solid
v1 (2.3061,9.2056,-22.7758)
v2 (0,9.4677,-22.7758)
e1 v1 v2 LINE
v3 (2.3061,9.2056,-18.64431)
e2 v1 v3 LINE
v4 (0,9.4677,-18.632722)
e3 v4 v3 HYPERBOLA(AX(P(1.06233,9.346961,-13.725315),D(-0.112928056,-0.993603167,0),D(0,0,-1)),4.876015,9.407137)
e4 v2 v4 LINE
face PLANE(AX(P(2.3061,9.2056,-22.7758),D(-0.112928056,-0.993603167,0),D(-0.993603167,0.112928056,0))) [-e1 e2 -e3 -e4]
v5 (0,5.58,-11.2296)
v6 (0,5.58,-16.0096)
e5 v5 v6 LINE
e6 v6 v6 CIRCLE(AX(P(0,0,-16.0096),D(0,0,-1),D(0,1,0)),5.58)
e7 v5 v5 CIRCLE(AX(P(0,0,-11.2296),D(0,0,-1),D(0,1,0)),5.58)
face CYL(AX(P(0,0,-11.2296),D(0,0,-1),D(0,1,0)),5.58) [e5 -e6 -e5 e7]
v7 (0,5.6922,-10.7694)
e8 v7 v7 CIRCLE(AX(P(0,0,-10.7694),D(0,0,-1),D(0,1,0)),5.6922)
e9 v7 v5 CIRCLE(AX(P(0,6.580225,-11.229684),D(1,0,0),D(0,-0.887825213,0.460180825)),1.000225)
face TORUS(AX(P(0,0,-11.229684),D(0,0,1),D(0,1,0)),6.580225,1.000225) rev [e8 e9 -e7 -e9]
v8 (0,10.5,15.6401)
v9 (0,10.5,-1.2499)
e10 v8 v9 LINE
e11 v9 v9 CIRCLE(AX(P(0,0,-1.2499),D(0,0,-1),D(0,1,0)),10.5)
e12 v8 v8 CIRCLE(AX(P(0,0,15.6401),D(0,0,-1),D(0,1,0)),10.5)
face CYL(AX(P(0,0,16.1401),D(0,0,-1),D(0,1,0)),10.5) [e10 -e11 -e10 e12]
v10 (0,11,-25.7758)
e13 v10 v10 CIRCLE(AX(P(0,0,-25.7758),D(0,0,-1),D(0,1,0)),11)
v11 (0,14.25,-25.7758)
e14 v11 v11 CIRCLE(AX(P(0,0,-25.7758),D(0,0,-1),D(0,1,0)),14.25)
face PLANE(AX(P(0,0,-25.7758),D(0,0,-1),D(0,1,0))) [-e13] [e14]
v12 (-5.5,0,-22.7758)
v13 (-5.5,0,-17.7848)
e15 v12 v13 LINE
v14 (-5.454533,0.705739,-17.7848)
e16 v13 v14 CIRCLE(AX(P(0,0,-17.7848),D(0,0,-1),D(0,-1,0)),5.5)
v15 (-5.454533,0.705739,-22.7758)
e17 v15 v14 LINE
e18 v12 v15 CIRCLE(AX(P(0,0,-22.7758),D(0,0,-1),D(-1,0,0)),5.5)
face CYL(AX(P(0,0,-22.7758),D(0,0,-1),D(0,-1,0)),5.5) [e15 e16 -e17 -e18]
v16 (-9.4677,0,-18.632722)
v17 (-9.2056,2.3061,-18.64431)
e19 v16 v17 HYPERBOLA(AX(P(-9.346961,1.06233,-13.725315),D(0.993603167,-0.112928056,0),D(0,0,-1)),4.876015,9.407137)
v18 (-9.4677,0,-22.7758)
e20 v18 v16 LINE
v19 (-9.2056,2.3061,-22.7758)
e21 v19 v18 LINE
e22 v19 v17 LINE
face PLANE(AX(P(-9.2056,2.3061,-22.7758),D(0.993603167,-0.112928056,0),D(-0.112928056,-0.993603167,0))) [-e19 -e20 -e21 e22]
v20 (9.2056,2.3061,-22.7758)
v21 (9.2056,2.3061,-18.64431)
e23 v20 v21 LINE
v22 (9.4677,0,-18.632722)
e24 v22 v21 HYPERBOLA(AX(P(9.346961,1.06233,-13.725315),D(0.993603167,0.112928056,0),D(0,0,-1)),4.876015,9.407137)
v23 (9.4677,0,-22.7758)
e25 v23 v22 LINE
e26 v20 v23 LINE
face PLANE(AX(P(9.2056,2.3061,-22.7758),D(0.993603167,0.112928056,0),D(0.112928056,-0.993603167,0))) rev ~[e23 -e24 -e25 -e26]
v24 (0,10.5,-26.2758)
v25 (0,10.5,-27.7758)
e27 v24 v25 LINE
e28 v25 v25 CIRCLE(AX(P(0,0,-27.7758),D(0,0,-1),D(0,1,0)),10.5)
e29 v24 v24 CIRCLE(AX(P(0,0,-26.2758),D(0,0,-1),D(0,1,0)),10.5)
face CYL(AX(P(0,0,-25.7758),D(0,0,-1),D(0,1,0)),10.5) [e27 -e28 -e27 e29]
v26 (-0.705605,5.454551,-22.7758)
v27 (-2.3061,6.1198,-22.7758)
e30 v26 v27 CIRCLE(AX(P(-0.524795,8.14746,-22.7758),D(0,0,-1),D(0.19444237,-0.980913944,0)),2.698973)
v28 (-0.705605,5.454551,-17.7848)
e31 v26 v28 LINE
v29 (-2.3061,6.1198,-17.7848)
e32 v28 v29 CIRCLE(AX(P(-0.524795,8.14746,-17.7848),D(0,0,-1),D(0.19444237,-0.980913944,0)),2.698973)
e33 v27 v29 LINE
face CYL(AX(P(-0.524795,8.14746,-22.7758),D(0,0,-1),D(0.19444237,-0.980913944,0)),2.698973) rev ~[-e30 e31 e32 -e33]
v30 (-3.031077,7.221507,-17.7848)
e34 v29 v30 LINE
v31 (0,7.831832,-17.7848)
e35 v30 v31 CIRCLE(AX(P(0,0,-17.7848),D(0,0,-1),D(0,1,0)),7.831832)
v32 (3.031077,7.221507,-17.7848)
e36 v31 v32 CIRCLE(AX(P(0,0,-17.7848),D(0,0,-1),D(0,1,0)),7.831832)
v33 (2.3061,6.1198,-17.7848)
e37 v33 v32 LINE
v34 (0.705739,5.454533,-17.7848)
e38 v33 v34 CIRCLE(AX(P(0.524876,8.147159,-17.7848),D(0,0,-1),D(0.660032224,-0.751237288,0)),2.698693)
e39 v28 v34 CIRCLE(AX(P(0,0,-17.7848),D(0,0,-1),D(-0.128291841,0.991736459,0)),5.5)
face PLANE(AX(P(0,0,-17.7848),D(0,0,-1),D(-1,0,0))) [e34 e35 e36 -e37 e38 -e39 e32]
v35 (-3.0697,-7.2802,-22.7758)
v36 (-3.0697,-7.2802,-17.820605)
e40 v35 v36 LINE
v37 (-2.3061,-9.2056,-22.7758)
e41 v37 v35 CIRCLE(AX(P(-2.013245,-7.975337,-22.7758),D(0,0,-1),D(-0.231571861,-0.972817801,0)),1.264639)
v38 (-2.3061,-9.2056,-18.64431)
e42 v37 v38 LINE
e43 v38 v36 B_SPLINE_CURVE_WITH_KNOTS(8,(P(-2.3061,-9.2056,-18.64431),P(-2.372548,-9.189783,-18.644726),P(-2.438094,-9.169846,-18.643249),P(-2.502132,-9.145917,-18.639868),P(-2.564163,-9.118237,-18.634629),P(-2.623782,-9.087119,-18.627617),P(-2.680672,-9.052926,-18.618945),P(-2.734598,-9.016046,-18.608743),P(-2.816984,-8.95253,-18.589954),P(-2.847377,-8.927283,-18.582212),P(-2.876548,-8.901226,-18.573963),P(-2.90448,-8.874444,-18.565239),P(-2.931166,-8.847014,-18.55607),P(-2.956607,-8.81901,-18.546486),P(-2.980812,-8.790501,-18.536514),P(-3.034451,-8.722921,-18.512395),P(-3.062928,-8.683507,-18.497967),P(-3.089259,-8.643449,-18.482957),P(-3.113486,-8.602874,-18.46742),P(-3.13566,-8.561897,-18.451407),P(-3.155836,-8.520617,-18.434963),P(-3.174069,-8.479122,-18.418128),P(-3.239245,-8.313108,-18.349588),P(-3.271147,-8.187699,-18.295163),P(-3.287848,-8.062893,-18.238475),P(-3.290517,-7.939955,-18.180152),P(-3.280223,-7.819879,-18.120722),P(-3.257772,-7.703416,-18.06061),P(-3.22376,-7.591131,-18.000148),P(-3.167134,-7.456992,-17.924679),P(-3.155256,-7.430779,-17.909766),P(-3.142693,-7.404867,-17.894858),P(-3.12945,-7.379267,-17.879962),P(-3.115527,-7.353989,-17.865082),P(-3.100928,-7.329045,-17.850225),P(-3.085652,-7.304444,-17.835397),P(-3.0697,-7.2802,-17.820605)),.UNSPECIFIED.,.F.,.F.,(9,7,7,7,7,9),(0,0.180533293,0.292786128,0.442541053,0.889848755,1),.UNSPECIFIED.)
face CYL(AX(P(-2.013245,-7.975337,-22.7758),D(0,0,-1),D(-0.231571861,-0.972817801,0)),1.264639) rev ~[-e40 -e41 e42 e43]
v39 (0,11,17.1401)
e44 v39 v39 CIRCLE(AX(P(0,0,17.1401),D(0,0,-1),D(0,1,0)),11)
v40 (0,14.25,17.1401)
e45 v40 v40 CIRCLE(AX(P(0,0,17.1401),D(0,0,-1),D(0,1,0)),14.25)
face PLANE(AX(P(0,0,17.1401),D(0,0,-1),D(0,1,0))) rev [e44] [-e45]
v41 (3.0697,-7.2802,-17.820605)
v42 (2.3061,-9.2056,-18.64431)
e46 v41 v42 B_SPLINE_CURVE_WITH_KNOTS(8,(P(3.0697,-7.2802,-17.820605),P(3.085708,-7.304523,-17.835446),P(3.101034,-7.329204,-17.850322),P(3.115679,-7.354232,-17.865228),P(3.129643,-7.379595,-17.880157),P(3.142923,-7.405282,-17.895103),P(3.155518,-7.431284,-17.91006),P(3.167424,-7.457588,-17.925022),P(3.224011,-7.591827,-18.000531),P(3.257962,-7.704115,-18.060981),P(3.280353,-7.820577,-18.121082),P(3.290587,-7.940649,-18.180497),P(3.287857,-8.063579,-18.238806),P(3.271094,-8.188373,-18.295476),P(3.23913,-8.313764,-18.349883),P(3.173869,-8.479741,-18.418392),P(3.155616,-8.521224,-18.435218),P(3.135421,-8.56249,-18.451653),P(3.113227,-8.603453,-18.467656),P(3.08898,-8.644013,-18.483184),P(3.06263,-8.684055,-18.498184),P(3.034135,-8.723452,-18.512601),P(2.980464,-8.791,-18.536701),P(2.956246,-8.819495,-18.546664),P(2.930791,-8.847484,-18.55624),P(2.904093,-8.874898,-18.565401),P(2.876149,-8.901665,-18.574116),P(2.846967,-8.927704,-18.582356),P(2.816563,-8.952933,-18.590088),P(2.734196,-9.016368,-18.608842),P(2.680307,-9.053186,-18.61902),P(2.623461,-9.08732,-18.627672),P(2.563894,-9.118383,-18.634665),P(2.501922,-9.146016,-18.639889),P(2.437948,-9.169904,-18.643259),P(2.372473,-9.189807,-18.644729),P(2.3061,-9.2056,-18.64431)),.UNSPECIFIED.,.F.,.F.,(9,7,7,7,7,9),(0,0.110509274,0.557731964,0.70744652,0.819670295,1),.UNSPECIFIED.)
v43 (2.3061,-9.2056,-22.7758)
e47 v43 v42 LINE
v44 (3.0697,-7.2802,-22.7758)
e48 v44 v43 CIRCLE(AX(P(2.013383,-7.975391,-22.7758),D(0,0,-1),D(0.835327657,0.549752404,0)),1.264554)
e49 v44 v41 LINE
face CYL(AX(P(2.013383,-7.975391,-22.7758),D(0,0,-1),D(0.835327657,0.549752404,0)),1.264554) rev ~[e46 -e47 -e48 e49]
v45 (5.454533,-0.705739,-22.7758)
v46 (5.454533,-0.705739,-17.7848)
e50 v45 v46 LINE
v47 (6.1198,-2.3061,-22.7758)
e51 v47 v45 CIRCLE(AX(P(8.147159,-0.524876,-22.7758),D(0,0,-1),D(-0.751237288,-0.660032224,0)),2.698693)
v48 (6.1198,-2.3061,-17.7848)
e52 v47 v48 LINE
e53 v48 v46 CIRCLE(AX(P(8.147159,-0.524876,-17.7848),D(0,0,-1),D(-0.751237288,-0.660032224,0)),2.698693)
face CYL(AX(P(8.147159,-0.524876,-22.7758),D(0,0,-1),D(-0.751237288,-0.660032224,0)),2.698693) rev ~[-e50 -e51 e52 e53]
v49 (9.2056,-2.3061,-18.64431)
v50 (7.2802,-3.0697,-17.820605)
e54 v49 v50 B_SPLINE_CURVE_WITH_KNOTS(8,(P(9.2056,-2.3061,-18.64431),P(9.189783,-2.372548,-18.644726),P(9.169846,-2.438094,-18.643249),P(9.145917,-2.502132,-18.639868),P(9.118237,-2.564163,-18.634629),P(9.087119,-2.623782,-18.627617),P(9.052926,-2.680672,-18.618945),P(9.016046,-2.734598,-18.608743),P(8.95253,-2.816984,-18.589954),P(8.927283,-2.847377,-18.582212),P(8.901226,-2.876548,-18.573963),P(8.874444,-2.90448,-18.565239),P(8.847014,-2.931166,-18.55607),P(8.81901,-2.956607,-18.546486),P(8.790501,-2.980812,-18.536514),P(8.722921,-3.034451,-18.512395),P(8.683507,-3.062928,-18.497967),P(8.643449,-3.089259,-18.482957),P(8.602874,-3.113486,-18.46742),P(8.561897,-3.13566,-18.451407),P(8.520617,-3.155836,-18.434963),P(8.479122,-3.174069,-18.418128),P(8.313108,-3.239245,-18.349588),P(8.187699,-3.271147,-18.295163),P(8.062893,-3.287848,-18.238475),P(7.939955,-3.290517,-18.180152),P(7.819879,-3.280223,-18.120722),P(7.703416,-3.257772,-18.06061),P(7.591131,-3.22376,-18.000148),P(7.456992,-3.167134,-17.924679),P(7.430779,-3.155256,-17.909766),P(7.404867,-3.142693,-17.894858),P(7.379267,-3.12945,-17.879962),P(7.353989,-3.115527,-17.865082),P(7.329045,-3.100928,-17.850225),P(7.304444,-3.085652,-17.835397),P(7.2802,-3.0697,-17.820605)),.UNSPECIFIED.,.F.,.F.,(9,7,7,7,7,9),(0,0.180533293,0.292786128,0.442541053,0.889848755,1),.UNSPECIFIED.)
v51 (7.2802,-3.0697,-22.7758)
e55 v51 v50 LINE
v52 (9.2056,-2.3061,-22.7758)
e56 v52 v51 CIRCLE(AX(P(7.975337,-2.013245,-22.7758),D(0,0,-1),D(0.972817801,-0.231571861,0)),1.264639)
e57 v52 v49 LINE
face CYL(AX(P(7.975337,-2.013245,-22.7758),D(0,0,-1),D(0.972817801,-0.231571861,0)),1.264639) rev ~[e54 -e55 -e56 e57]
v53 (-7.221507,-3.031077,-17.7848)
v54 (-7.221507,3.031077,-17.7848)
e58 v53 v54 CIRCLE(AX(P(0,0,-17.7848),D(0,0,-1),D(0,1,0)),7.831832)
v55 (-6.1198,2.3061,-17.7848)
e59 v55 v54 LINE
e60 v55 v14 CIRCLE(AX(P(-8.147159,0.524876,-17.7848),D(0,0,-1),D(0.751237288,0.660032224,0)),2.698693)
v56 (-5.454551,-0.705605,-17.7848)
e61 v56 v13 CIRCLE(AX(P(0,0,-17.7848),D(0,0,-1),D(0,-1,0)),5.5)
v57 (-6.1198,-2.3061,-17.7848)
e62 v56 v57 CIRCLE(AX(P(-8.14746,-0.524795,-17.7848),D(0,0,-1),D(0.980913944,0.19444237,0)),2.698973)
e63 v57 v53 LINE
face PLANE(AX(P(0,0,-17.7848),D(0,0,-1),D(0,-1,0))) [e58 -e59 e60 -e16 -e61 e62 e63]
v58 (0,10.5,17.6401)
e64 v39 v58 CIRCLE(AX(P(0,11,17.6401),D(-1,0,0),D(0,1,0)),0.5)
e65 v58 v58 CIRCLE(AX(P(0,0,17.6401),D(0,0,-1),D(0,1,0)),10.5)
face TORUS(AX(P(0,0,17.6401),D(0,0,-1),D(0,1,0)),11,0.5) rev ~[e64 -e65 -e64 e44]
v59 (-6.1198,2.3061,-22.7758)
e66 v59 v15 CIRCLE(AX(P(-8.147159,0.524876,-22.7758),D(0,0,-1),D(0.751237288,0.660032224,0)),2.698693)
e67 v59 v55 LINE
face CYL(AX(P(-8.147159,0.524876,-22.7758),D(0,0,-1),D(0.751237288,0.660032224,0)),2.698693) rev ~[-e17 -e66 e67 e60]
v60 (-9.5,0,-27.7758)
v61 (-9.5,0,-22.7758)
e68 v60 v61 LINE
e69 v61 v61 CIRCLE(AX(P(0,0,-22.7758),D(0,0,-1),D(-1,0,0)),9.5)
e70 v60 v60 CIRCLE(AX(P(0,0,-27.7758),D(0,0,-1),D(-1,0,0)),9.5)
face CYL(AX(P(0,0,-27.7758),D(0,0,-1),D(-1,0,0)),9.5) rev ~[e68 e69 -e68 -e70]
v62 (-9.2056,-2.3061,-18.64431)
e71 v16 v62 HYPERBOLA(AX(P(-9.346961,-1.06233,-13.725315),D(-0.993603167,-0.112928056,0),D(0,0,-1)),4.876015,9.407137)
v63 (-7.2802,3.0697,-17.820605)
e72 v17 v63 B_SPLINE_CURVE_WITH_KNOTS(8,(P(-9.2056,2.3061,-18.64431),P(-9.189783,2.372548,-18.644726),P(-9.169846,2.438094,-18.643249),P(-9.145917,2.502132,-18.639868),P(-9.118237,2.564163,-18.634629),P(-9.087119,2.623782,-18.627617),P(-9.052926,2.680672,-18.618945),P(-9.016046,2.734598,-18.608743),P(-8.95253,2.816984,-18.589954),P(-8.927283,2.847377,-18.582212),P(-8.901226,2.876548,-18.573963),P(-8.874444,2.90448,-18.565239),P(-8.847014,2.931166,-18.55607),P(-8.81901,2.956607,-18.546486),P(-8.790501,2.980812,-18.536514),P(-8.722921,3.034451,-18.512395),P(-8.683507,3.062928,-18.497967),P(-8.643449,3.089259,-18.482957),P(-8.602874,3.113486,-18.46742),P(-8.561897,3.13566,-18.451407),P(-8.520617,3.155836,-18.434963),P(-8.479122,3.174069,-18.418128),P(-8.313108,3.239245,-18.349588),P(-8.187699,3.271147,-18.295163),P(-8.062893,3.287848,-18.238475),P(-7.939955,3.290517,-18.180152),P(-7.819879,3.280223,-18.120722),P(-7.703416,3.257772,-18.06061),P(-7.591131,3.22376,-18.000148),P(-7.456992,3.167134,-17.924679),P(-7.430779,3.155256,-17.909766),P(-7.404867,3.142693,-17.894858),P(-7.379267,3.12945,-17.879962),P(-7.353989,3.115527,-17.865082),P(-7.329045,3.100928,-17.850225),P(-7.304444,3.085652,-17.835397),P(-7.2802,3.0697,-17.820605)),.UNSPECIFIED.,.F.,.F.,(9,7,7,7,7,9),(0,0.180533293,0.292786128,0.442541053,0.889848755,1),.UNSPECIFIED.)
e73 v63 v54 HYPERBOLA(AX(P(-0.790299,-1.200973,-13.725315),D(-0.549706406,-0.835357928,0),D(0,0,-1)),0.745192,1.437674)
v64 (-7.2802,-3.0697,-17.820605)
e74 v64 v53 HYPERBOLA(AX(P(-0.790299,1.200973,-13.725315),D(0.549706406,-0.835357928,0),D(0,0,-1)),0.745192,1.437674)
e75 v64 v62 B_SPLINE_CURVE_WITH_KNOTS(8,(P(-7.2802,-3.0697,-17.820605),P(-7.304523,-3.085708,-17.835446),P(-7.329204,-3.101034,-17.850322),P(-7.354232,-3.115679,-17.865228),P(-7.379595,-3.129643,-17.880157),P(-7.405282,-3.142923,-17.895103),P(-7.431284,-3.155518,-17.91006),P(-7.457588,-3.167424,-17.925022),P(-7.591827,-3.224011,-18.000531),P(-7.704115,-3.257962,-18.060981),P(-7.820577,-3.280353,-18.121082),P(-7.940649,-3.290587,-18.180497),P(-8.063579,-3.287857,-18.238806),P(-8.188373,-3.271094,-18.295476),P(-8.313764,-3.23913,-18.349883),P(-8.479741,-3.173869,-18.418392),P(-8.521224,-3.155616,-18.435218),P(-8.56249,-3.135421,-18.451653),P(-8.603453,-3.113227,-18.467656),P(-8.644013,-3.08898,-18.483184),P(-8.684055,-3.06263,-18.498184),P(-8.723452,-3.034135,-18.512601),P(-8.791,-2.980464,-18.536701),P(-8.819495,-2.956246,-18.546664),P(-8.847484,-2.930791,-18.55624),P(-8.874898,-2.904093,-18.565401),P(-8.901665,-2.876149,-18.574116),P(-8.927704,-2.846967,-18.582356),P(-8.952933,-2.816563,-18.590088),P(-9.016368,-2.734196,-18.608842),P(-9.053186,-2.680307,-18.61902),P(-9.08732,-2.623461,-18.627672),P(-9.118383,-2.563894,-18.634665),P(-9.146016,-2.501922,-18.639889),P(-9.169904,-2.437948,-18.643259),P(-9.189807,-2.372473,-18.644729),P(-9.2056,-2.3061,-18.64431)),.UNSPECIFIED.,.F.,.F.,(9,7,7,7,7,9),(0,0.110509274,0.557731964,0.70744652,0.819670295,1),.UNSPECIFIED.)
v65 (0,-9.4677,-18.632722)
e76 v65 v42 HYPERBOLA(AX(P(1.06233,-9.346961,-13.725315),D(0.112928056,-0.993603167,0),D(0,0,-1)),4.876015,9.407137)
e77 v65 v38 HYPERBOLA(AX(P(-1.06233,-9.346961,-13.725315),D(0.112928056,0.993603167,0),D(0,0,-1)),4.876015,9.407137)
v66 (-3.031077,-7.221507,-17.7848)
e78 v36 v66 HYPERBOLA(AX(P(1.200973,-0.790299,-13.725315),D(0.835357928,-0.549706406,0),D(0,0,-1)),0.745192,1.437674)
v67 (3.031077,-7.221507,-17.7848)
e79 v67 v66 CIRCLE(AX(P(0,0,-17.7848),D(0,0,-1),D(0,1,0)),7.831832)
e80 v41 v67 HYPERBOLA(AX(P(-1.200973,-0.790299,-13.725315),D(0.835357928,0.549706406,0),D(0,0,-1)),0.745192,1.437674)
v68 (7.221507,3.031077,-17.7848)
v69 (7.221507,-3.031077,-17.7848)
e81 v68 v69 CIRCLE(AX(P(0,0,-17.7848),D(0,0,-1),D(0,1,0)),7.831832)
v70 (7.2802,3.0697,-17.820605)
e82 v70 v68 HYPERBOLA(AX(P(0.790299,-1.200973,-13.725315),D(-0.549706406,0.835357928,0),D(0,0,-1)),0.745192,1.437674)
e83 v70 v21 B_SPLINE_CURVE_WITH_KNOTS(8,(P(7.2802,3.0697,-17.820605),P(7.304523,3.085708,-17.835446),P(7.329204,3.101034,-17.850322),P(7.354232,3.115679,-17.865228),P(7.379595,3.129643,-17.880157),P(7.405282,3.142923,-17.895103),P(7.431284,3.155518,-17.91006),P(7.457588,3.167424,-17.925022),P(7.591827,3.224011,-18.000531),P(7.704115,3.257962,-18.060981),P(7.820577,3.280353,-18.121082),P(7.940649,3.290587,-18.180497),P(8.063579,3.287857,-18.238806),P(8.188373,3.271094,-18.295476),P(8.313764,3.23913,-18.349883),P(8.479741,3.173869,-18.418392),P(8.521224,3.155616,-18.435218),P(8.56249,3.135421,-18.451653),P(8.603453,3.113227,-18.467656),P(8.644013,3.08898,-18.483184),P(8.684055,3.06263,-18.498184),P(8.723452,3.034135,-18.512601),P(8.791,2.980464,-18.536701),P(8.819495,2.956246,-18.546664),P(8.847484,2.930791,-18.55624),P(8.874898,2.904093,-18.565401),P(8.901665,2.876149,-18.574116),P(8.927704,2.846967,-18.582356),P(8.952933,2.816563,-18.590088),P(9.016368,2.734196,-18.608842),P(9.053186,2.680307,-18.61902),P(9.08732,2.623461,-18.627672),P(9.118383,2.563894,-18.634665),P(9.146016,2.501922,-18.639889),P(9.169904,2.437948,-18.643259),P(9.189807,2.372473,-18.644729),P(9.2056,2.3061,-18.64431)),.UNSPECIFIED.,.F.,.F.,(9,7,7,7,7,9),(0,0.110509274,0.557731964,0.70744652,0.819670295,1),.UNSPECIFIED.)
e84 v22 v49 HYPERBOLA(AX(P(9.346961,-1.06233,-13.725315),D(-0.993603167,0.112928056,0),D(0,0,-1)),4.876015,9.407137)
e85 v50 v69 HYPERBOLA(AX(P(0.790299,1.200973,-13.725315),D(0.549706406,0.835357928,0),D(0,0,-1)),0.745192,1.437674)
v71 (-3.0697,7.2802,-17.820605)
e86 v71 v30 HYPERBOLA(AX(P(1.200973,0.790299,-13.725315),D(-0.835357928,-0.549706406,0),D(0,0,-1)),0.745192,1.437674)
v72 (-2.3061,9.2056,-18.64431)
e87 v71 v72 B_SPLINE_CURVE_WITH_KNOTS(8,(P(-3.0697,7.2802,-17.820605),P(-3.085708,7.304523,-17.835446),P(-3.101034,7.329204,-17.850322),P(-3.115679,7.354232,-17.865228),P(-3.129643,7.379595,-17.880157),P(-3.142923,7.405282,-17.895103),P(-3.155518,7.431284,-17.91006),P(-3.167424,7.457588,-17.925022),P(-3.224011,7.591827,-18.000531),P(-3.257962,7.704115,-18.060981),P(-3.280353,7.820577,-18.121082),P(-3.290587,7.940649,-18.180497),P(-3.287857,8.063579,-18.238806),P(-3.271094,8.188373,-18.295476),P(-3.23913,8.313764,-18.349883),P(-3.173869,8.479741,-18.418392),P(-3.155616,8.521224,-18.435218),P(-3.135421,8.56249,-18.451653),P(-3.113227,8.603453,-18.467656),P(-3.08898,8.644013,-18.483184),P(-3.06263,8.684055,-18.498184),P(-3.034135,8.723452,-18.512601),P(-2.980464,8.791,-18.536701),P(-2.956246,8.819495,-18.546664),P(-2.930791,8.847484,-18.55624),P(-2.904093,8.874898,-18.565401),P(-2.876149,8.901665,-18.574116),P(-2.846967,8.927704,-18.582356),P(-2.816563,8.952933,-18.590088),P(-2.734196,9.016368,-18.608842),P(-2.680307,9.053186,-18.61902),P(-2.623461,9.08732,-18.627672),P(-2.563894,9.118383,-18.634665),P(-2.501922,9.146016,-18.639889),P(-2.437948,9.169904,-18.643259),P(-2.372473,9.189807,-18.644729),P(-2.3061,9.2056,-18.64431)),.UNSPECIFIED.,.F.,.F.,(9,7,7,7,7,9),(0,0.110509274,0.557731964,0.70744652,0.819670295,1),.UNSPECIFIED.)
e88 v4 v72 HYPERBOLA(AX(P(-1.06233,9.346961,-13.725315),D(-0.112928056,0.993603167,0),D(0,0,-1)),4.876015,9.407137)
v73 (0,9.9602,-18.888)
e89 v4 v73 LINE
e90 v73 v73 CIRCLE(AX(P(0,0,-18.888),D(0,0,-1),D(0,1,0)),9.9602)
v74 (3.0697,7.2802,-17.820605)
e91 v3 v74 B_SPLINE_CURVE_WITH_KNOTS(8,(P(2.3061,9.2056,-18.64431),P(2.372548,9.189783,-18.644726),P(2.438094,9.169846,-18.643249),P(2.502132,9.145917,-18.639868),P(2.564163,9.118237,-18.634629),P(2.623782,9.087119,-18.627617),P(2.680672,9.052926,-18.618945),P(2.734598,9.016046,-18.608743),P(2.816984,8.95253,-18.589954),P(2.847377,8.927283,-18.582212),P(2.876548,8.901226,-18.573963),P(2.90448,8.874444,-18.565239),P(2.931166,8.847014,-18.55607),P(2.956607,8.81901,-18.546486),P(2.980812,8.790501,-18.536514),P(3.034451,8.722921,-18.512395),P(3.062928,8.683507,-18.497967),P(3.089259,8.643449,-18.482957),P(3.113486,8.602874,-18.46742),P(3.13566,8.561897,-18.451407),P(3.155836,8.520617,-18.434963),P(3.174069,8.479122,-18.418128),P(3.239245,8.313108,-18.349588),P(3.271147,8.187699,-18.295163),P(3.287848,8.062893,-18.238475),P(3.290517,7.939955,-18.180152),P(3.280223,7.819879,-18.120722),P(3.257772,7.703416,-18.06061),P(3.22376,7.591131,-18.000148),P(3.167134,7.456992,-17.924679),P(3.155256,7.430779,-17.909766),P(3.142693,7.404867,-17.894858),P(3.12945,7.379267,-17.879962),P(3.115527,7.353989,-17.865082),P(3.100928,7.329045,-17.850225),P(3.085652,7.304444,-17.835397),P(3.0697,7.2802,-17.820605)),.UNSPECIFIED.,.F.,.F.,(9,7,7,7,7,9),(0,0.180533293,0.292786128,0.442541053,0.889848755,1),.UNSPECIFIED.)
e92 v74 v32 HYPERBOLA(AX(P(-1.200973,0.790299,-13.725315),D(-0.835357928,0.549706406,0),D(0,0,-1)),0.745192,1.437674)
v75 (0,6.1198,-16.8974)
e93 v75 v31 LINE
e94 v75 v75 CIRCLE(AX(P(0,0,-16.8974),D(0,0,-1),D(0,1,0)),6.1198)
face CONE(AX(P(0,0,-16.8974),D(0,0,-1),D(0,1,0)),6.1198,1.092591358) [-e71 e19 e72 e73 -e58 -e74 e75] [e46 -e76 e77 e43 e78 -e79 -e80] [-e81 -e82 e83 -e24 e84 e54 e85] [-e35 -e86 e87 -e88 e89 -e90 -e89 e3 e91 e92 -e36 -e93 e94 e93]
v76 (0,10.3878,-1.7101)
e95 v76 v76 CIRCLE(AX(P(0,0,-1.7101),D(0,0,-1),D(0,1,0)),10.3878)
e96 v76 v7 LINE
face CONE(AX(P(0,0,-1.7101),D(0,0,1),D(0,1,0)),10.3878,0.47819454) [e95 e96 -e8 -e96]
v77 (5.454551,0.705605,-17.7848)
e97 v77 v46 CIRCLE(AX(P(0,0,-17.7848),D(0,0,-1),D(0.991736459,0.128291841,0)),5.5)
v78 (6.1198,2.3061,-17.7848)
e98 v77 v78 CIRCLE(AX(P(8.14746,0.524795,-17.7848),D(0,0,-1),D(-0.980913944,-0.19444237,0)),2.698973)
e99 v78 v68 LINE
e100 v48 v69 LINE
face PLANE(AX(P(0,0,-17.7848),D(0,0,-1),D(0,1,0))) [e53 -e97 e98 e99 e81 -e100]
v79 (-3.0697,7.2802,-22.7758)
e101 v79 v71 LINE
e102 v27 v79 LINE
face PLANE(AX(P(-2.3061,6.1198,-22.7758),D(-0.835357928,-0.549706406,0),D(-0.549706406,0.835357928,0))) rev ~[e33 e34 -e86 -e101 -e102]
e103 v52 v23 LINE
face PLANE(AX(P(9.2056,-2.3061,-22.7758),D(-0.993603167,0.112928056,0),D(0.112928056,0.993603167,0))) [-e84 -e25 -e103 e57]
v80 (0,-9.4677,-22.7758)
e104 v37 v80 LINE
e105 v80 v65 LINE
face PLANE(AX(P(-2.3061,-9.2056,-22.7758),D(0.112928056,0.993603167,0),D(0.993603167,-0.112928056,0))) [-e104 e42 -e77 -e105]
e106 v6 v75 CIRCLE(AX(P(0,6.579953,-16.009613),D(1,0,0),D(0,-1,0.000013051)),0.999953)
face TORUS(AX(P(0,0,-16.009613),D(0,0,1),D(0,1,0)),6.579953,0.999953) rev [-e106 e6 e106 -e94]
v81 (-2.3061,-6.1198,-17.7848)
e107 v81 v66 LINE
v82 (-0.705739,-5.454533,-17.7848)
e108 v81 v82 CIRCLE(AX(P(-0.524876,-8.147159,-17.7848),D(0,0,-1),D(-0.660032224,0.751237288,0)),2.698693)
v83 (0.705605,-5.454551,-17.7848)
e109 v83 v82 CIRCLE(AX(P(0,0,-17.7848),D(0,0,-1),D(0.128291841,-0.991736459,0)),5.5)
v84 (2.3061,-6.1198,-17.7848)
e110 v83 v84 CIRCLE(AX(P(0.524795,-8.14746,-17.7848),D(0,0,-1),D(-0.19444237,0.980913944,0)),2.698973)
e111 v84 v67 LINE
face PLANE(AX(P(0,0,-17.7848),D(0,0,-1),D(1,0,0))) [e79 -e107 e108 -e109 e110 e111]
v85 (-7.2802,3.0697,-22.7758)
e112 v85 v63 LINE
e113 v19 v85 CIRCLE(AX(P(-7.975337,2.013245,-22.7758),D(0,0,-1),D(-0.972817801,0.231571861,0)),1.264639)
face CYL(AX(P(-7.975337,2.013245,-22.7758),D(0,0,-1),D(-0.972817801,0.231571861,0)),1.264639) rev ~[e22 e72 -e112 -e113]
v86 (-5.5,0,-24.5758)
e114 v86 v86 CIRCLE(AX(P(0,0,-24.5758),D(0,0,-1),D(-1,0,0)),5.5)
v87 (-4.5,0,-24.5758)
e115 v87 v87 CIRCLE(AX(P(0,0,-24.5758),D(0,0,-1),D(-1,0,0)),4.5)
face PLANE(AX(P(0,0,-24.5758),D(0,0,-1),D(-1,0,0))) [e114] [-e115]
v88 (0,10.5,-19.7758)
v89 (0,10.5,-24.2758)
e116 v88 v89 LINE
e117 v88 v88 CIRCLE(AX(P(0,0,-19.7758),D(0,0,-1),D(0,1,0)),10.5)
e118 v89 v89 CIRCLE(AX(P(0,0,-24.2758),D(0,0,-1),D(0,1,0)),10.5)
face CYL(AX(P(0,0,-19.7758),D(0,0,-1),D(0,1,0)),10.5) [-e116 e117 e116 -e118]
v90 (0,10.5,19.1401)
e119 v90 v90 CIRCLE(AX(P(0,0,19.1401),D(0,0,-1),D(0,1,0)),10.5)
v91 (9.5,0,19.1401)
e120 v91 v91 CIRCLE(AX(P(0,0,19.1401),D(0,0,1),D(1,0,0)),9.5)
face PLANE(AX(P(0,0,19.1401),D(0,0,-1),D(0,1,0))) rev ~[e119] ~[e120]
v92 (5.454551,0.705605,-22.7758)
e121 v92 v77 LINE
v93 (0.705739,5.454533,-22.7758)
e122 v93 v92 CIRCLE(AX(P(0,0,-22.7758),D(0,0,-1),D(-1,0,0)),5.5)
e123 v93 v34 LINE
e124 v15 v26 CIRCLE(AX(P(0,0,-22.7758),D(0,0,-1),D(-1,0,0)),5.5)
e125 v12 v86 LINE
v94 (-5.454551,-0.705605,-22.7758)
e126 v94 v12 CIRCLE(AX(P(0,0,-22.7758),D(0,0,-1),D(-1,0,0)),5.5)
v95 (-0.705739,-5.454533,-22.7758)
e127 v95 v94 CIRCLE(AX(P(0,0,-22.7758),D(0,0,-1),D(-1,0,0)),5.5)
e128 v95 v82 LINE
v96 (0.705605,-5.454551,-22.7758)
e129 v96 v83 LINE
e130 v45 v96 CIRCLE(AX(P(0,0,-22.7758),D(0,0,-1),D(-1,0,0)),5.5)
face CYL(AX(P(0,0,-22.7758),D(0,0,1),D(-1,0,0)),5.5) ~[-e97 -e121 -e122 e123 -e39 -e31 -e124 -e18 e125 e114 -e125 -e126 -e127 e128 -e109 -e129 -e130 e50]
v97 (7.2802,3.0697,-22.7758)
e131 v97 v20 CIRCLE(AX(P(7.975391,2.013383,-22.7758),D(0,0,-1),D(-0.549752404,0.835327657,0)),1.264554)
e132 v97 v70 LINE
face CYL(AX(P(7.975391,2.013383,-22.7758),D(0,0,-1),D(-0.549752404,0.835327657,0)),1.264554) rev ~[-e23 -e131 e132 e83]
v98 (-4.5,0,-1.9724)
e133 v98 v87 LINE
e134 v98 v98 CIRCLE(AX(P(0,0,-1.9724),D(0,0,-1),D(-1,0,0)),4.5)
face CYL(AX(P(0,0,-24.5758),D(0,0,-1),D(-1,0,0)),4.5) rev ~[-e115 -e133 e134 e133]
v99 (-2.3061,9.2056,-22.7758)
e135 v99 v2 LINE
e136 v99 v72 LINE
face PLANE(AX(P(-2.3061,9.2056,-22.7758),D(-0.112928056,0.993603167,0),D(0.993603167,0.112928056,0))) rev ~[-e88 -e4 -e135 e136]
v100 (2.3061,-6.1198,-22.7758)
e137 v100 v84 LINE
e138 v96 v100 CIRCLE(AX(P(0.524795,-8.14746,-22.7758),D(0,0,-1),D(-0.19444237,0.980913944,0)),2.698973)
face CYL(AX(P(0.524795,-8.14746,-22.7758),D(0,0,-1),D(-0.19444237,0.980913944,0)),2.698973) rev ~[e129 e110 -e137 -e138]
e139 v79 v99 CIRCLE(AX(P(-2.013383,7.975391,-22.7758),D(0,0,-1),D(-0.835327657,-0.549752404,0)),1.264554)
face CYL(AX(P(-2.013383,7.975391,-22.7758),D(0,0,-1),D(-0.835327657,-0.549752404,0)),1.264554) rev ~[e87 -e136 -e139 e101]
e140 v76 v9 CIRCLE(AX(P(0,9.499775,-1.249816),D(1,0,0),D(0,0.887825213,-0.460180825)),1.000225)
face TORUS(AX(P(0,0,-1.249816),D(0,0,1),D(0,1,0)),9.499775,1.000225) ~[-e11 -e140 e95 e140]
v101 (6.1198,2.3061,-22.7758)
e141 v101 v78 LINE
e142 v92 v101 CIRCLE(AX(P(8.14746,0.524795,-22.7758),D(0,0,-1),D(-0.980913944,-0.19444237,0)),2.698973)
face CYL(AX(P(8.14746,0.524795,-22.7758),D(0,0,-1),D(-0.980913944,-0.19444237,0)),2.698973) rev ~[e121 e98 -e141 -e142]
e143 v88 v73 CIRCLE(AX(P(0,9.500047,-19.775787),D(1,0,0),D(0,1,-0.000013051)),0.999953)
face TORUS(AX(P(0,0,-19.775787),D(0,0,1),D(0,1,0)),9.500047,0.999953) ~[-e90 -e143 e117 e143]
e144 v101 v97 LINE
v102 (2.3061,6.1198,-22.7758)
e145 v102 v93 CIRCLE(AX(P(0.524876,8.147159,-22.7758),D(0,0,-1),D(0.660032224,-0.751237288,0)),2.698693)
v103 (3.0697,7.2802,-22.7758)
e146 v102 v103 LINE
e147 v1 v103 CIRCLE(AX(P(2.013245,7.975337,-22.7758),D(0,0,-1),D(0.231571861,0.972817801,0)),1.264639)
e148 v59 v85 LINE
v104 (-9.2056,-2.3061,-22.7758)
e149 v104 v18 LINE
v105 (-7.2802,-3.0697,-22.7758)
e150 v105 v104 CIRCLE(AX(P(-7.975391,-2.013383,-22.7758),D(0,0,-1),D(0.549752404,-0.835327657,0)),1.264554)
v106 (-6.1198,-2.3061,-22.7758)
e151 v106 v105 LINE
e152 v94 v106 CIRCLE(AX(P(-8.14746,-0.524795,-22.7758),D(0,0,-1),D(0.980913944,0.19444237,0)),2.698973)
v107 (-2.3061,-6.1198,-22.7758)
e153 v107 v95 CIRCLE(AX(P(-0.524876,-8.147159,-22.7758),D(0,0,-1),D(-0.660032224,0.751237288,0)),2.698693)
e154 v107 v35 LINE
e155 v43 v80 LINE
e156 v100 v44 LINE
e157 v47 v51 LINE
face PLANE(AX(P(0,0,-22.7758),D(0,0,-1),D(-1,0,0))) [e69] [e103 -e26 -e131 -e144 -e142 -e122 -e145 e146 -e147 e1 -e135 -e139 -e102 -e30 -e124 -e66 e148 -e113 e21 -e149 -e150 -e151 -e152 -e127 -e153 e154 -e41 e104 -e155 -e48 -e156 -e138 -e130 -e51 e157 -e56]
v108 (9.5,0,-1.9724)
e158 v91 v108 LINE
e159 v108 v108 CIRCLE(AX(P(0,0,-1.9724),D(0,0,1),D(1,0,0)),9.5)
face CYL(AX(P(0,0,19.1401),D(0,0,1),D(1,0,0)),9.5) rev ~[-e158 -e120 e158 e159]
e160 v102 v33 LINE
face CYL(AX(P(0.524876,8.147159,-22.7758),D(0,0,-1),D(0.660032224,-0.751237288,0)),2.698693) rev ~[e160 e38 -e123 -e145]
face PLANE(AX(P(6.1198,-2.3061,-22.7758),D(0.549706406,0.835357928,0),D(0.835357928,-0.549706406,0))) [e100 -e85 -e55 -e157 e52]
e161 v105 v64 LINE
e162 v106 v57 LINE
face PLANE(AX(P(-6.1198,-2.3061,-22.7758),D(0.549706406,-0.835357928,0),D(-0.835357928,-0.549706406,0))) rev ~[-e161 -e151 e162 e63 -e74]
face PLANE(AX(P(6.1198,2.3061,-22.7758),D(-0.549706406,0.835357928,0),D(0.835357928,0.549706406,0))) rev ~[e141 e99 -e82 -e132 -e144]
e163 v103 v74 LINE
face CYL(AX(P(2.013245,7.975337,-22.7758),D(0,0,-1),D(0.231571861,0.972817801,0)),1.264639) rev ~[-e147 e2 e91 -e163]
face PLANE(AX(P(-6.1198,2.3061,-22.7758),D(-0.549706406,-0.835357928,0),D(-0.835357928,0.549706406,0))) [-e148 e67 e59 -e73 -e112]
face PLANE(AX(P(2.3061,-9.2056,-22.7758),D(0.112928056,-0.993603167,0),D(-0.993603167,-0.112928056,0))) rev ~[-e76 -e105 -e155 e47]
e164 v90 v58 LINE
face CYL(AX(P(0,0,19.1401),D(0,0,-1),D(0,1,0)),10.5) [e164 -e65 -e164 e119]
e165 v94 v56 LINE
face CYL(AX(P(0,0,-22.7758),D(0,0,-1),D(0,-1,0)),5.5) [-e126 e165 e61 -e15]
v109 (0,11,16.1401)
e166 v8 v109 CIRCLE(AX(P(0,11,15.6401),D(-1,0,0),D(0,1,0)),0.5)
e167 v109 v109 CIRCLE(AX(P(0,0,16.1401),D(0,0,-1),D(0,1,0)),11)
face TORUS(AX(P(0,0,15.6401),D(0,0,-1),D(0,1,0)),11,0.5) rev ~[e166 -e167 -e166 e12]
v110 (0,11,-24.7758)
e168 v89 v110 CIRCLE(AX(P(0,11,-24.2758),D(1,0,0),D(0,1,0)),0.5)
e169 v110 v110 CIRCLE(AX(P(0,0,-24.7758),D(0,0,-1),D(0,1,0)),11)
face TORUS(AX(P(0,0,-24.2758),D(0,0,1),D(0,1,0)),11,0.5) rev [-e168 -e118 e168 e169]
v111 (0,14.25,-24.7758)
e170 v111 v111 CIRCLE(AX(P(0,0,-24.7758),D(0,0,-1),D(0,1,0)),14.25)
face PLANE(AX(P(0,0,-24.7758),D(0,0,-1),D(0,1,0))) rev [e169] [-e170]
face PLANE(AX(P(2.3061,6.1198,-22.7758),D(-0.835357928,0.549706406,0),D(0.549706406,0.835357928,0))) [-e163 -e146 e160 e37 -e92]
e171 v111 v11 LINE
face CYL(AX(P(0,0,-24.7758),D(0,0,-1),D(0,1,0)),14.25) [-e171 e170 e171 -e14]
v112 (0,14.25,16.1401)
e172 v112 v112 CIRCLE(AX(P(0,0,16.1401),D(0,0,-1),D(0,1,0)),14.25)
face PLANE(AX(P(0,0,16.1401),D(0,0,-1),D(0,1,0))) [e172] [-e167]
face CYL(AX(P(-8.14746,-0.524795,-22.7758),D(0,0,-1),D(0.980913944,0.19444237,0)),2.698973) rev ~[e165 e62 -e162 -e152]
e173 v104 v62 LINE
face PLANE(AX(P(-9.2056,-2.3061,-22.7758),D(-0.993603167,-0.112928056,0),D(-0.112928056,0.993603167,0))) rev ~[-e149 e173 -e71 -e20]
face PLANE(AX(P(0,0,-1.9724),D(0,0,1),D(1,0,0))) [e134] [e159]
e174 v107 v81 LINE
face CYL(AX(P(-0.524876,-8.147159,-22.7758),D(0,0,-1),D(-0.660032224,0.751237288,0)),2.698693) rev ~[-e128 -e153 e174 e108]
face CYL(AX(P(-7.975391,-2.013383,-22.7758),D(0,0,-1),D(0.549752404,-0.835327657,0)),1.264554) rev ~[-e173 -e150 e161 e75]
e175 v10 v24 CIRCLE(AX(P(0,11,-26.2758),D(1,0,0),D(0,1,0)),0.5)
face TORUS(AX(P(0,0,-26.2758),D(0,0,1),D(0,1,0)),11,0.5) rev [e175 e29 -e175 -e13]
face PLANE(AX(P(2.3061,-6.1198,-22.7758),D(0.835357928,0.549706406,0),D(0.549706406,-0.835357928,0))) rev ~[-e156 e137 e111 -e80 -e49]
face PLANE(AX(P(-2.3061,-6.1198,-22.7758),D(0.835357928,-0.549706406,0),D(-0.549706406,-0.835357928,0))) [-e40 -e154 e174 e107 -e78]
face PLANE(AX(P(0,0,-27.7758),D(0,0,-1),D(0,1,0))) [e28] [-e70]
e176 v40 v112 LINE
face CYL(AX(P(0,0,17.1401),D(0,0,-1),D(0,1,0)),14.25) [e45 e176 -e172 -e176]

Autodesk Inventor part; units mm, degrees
ref_plane "YZ Plane" through (0, 0, 0) normal (1, 0, 0) x (0, 1, 0)
ref_plane "XZ Plane" through (0, 0, 0) normal (0, 1, 0) x (-1, 0, 0)
ref_plane "XY Plane" through (0, 0, 0) normal (0, 0, 1) x (1, 0, 0)
sketch "Sketch1" plane through (0, 0, 0) normal (1, 0, 0) x (0, 1, 0)
  line L0 (10.5, 19.1401) -> (10.5, 17.1401)
  line L1 (10.5, 17.1401) -> (14.25, 17.1401)
  line L2 (14.25, 17.1401) -> (14.25, 16.1401)
  line L3 (14.25, 16.1401) -> (10.5, 16.1401)
  line L4 (10.5, 16.1401) -> (10.5, -1.2499)
  line L5 (10.3878, -1.7101) -> (5.6922, -10.7694)
  line L6 (5.58, -11.2296) -> (5.58, -16.0096)
  line L7 (6.1198, -16.8974) -> (9.9602, -18.888)
  line L8 (10.5, -19.7758) -> (10.5, -24.7758)
  line L9 (10.5, -24.7758) -> (14.25, -24.7758)
  line L10 (14.25, -24.7758) -> (14.25, -25.7758)
  line L11 (14.25, -25.7758) -> (10.5, -25.7758)
  line L12 (10.5, -25.7758) -> (10.5, -27.7758)
  line L13 (10.5, -27.7758) -> (0, -27.7758)
  line L14 (10.5, 19.1401) -> (0, 19.1401)
  line L15 (0, 28.5233) -> (0, -37.159) projected
  arc A0 (10.3878, -1.7101) -> (10.5, -1.2499) centre (9.5, -1.2499) ccw
  arc A1 (5.6922, -10.7694) -> (5.58, -11.2296) centre (6.58, -11.2296) ccw
  arc A2 (5.58, -16.0096) -> (6.1198, -16.8974) centre (6.58, -16.0096) ccw
  arc A3 (10.5, -19.7758) -> (9.9602, -18.888) centre (9.5, -19.7758) ccw
  point P0 (0, 0)
  point P1 (10.5, -1.4937)
  point P2 (5.58, -10.9859)
  dimension "d0" = 10.5
  dimension "d1" = 2
  dimension "d2" = 14.25
  dimension "d4" = 10.5
  dimension "d5" = 5.58
  dimension "d6" = 0
  dimension "d7" = 10.5
  dimension "d8" = 14.25
  dimension "d9" = 1
  dimension "d10" = 1
  dimension "d11" = 1
  dimension "d13" = 17.39
  dimension "d14" = 1
  dimension "d15" = 4.78
  dimension "d16" = 5
  dimension "d17" = 1
  dimension "d18" = 2
revolve "Revolution1" add sketch "Sketch1" angle 360 about axis through (0, 0, 0) along (0, 0, -1)
sketch "Sketch6" plane through (0, 0, -27.7758) normal (0, 0, -1) x (-1, 0, 0)
  circle A0 centre (0, 0) radius 4.5
  dimension "d19" = 9
extrude "Extrusion1" cut sketch "Sketch6" against normal blind 85.725
sketch "Sketch7" plane through (0, 0, 19.1401) normal (0, 0, 1) x (1, 0, 0)
  circle A0 centre (0, 0) radius 9.5
  dimension "d22" = 19
extrude "Extrusion2" cut sketch "Sketch7" against normal blind 21.1125
sketch "Sketch8" plane through (0, 0, -27.7758) normal (0, 0, -1) x (-1, 0, 0)
  circle A0 centre (0, 0) radius 9.5
  dimension "d25" = 19
extrude "Extrusion3" cut sketch "Sketch8" against normal blind 5
sketch "Sketch9" plane through (0, 0, -22.7758) normal (0, 0, -1) x (-1, 0, 0)
  circle A0 centre (0, 0) radius 5.5
  dimension "d28" = 11
extrude "Extrusion4" add sketch "Sketch9" along normal blind 1.8
sketch "Sketch10" plane through (0, 0, -24.5758) normal (0, 0, -1) x (-1, 0, 0)
  circle A0 centre (0, 0) radius 4.5
  dimension "d31" = 9
extrude "Extrusion5" cut sketch "Sketch10" against normal blind 19.491
sketch "Sketch11" plane through (0, 0, -22.7758) normal (0, 0, -1) x (-1, 0, 0)
  circle A0 centre (0, 0) radius 5.5 projected
  arc A1 (0, 5.5) -> (2.3061, 6.1198) centre (0.5248, 8.1473) ccw
  line L0 (2.3061, 6.1198) -> (3.0697, 7.2802)
  arc A2 (3.0697, 7.2802) -> (2.3061, 9.2056) centre (2.0133, 7.9754) ccw
  line L1 (2.3061, 9.2056) -> (0, 9.4677)
  circle A3 centre (0, 0) radius 9.9602 projected
  arc A4 (-2.3061, 6.1198) -> (0, 5.5) centre (-0.5248, 8.1473) ccw
  line L2 (-2.3061, 6.1198) -> (-3.0697, 7.2802)
  arc A5 (-2.3061, 9.2056) -> (-3.0697, 7.2802) centre (-2.0133, 7.9754) ccw
  line L3 (-2.3061, 9.2056) -> (0, 9.4677)
  point P0 (-0.7056, 5.4545)
  point P1 (0.7056, 5.4545)
  dimension "d34" = 1.2645
extrude "Extrusion6" cut sketch "Sketch11" against normal blind 4.991 contours A0 A4 L2 A5 L3 L1 A2 L0 A1
pattern_circular "Circular Pattern1" count 4 over 360 about axis through (0, 0, -17.8927) along (0, 0, -1) of "Extrusion6"
fillet "Fillet1" radius 0.5 1 edges at (0, -10.5, 16.1401)
fillet "Fillet2" radius 0.5 1 edges at (0, -10.5, 17.1401)
fillet "Fillet3" radius 0.5 1 edges at (0, -10.5, -24.7758)
fillet "Fillet4" radius 0.5 1 edges at (0, -10.5, -25.7758)
properties part number "Trục mới"
